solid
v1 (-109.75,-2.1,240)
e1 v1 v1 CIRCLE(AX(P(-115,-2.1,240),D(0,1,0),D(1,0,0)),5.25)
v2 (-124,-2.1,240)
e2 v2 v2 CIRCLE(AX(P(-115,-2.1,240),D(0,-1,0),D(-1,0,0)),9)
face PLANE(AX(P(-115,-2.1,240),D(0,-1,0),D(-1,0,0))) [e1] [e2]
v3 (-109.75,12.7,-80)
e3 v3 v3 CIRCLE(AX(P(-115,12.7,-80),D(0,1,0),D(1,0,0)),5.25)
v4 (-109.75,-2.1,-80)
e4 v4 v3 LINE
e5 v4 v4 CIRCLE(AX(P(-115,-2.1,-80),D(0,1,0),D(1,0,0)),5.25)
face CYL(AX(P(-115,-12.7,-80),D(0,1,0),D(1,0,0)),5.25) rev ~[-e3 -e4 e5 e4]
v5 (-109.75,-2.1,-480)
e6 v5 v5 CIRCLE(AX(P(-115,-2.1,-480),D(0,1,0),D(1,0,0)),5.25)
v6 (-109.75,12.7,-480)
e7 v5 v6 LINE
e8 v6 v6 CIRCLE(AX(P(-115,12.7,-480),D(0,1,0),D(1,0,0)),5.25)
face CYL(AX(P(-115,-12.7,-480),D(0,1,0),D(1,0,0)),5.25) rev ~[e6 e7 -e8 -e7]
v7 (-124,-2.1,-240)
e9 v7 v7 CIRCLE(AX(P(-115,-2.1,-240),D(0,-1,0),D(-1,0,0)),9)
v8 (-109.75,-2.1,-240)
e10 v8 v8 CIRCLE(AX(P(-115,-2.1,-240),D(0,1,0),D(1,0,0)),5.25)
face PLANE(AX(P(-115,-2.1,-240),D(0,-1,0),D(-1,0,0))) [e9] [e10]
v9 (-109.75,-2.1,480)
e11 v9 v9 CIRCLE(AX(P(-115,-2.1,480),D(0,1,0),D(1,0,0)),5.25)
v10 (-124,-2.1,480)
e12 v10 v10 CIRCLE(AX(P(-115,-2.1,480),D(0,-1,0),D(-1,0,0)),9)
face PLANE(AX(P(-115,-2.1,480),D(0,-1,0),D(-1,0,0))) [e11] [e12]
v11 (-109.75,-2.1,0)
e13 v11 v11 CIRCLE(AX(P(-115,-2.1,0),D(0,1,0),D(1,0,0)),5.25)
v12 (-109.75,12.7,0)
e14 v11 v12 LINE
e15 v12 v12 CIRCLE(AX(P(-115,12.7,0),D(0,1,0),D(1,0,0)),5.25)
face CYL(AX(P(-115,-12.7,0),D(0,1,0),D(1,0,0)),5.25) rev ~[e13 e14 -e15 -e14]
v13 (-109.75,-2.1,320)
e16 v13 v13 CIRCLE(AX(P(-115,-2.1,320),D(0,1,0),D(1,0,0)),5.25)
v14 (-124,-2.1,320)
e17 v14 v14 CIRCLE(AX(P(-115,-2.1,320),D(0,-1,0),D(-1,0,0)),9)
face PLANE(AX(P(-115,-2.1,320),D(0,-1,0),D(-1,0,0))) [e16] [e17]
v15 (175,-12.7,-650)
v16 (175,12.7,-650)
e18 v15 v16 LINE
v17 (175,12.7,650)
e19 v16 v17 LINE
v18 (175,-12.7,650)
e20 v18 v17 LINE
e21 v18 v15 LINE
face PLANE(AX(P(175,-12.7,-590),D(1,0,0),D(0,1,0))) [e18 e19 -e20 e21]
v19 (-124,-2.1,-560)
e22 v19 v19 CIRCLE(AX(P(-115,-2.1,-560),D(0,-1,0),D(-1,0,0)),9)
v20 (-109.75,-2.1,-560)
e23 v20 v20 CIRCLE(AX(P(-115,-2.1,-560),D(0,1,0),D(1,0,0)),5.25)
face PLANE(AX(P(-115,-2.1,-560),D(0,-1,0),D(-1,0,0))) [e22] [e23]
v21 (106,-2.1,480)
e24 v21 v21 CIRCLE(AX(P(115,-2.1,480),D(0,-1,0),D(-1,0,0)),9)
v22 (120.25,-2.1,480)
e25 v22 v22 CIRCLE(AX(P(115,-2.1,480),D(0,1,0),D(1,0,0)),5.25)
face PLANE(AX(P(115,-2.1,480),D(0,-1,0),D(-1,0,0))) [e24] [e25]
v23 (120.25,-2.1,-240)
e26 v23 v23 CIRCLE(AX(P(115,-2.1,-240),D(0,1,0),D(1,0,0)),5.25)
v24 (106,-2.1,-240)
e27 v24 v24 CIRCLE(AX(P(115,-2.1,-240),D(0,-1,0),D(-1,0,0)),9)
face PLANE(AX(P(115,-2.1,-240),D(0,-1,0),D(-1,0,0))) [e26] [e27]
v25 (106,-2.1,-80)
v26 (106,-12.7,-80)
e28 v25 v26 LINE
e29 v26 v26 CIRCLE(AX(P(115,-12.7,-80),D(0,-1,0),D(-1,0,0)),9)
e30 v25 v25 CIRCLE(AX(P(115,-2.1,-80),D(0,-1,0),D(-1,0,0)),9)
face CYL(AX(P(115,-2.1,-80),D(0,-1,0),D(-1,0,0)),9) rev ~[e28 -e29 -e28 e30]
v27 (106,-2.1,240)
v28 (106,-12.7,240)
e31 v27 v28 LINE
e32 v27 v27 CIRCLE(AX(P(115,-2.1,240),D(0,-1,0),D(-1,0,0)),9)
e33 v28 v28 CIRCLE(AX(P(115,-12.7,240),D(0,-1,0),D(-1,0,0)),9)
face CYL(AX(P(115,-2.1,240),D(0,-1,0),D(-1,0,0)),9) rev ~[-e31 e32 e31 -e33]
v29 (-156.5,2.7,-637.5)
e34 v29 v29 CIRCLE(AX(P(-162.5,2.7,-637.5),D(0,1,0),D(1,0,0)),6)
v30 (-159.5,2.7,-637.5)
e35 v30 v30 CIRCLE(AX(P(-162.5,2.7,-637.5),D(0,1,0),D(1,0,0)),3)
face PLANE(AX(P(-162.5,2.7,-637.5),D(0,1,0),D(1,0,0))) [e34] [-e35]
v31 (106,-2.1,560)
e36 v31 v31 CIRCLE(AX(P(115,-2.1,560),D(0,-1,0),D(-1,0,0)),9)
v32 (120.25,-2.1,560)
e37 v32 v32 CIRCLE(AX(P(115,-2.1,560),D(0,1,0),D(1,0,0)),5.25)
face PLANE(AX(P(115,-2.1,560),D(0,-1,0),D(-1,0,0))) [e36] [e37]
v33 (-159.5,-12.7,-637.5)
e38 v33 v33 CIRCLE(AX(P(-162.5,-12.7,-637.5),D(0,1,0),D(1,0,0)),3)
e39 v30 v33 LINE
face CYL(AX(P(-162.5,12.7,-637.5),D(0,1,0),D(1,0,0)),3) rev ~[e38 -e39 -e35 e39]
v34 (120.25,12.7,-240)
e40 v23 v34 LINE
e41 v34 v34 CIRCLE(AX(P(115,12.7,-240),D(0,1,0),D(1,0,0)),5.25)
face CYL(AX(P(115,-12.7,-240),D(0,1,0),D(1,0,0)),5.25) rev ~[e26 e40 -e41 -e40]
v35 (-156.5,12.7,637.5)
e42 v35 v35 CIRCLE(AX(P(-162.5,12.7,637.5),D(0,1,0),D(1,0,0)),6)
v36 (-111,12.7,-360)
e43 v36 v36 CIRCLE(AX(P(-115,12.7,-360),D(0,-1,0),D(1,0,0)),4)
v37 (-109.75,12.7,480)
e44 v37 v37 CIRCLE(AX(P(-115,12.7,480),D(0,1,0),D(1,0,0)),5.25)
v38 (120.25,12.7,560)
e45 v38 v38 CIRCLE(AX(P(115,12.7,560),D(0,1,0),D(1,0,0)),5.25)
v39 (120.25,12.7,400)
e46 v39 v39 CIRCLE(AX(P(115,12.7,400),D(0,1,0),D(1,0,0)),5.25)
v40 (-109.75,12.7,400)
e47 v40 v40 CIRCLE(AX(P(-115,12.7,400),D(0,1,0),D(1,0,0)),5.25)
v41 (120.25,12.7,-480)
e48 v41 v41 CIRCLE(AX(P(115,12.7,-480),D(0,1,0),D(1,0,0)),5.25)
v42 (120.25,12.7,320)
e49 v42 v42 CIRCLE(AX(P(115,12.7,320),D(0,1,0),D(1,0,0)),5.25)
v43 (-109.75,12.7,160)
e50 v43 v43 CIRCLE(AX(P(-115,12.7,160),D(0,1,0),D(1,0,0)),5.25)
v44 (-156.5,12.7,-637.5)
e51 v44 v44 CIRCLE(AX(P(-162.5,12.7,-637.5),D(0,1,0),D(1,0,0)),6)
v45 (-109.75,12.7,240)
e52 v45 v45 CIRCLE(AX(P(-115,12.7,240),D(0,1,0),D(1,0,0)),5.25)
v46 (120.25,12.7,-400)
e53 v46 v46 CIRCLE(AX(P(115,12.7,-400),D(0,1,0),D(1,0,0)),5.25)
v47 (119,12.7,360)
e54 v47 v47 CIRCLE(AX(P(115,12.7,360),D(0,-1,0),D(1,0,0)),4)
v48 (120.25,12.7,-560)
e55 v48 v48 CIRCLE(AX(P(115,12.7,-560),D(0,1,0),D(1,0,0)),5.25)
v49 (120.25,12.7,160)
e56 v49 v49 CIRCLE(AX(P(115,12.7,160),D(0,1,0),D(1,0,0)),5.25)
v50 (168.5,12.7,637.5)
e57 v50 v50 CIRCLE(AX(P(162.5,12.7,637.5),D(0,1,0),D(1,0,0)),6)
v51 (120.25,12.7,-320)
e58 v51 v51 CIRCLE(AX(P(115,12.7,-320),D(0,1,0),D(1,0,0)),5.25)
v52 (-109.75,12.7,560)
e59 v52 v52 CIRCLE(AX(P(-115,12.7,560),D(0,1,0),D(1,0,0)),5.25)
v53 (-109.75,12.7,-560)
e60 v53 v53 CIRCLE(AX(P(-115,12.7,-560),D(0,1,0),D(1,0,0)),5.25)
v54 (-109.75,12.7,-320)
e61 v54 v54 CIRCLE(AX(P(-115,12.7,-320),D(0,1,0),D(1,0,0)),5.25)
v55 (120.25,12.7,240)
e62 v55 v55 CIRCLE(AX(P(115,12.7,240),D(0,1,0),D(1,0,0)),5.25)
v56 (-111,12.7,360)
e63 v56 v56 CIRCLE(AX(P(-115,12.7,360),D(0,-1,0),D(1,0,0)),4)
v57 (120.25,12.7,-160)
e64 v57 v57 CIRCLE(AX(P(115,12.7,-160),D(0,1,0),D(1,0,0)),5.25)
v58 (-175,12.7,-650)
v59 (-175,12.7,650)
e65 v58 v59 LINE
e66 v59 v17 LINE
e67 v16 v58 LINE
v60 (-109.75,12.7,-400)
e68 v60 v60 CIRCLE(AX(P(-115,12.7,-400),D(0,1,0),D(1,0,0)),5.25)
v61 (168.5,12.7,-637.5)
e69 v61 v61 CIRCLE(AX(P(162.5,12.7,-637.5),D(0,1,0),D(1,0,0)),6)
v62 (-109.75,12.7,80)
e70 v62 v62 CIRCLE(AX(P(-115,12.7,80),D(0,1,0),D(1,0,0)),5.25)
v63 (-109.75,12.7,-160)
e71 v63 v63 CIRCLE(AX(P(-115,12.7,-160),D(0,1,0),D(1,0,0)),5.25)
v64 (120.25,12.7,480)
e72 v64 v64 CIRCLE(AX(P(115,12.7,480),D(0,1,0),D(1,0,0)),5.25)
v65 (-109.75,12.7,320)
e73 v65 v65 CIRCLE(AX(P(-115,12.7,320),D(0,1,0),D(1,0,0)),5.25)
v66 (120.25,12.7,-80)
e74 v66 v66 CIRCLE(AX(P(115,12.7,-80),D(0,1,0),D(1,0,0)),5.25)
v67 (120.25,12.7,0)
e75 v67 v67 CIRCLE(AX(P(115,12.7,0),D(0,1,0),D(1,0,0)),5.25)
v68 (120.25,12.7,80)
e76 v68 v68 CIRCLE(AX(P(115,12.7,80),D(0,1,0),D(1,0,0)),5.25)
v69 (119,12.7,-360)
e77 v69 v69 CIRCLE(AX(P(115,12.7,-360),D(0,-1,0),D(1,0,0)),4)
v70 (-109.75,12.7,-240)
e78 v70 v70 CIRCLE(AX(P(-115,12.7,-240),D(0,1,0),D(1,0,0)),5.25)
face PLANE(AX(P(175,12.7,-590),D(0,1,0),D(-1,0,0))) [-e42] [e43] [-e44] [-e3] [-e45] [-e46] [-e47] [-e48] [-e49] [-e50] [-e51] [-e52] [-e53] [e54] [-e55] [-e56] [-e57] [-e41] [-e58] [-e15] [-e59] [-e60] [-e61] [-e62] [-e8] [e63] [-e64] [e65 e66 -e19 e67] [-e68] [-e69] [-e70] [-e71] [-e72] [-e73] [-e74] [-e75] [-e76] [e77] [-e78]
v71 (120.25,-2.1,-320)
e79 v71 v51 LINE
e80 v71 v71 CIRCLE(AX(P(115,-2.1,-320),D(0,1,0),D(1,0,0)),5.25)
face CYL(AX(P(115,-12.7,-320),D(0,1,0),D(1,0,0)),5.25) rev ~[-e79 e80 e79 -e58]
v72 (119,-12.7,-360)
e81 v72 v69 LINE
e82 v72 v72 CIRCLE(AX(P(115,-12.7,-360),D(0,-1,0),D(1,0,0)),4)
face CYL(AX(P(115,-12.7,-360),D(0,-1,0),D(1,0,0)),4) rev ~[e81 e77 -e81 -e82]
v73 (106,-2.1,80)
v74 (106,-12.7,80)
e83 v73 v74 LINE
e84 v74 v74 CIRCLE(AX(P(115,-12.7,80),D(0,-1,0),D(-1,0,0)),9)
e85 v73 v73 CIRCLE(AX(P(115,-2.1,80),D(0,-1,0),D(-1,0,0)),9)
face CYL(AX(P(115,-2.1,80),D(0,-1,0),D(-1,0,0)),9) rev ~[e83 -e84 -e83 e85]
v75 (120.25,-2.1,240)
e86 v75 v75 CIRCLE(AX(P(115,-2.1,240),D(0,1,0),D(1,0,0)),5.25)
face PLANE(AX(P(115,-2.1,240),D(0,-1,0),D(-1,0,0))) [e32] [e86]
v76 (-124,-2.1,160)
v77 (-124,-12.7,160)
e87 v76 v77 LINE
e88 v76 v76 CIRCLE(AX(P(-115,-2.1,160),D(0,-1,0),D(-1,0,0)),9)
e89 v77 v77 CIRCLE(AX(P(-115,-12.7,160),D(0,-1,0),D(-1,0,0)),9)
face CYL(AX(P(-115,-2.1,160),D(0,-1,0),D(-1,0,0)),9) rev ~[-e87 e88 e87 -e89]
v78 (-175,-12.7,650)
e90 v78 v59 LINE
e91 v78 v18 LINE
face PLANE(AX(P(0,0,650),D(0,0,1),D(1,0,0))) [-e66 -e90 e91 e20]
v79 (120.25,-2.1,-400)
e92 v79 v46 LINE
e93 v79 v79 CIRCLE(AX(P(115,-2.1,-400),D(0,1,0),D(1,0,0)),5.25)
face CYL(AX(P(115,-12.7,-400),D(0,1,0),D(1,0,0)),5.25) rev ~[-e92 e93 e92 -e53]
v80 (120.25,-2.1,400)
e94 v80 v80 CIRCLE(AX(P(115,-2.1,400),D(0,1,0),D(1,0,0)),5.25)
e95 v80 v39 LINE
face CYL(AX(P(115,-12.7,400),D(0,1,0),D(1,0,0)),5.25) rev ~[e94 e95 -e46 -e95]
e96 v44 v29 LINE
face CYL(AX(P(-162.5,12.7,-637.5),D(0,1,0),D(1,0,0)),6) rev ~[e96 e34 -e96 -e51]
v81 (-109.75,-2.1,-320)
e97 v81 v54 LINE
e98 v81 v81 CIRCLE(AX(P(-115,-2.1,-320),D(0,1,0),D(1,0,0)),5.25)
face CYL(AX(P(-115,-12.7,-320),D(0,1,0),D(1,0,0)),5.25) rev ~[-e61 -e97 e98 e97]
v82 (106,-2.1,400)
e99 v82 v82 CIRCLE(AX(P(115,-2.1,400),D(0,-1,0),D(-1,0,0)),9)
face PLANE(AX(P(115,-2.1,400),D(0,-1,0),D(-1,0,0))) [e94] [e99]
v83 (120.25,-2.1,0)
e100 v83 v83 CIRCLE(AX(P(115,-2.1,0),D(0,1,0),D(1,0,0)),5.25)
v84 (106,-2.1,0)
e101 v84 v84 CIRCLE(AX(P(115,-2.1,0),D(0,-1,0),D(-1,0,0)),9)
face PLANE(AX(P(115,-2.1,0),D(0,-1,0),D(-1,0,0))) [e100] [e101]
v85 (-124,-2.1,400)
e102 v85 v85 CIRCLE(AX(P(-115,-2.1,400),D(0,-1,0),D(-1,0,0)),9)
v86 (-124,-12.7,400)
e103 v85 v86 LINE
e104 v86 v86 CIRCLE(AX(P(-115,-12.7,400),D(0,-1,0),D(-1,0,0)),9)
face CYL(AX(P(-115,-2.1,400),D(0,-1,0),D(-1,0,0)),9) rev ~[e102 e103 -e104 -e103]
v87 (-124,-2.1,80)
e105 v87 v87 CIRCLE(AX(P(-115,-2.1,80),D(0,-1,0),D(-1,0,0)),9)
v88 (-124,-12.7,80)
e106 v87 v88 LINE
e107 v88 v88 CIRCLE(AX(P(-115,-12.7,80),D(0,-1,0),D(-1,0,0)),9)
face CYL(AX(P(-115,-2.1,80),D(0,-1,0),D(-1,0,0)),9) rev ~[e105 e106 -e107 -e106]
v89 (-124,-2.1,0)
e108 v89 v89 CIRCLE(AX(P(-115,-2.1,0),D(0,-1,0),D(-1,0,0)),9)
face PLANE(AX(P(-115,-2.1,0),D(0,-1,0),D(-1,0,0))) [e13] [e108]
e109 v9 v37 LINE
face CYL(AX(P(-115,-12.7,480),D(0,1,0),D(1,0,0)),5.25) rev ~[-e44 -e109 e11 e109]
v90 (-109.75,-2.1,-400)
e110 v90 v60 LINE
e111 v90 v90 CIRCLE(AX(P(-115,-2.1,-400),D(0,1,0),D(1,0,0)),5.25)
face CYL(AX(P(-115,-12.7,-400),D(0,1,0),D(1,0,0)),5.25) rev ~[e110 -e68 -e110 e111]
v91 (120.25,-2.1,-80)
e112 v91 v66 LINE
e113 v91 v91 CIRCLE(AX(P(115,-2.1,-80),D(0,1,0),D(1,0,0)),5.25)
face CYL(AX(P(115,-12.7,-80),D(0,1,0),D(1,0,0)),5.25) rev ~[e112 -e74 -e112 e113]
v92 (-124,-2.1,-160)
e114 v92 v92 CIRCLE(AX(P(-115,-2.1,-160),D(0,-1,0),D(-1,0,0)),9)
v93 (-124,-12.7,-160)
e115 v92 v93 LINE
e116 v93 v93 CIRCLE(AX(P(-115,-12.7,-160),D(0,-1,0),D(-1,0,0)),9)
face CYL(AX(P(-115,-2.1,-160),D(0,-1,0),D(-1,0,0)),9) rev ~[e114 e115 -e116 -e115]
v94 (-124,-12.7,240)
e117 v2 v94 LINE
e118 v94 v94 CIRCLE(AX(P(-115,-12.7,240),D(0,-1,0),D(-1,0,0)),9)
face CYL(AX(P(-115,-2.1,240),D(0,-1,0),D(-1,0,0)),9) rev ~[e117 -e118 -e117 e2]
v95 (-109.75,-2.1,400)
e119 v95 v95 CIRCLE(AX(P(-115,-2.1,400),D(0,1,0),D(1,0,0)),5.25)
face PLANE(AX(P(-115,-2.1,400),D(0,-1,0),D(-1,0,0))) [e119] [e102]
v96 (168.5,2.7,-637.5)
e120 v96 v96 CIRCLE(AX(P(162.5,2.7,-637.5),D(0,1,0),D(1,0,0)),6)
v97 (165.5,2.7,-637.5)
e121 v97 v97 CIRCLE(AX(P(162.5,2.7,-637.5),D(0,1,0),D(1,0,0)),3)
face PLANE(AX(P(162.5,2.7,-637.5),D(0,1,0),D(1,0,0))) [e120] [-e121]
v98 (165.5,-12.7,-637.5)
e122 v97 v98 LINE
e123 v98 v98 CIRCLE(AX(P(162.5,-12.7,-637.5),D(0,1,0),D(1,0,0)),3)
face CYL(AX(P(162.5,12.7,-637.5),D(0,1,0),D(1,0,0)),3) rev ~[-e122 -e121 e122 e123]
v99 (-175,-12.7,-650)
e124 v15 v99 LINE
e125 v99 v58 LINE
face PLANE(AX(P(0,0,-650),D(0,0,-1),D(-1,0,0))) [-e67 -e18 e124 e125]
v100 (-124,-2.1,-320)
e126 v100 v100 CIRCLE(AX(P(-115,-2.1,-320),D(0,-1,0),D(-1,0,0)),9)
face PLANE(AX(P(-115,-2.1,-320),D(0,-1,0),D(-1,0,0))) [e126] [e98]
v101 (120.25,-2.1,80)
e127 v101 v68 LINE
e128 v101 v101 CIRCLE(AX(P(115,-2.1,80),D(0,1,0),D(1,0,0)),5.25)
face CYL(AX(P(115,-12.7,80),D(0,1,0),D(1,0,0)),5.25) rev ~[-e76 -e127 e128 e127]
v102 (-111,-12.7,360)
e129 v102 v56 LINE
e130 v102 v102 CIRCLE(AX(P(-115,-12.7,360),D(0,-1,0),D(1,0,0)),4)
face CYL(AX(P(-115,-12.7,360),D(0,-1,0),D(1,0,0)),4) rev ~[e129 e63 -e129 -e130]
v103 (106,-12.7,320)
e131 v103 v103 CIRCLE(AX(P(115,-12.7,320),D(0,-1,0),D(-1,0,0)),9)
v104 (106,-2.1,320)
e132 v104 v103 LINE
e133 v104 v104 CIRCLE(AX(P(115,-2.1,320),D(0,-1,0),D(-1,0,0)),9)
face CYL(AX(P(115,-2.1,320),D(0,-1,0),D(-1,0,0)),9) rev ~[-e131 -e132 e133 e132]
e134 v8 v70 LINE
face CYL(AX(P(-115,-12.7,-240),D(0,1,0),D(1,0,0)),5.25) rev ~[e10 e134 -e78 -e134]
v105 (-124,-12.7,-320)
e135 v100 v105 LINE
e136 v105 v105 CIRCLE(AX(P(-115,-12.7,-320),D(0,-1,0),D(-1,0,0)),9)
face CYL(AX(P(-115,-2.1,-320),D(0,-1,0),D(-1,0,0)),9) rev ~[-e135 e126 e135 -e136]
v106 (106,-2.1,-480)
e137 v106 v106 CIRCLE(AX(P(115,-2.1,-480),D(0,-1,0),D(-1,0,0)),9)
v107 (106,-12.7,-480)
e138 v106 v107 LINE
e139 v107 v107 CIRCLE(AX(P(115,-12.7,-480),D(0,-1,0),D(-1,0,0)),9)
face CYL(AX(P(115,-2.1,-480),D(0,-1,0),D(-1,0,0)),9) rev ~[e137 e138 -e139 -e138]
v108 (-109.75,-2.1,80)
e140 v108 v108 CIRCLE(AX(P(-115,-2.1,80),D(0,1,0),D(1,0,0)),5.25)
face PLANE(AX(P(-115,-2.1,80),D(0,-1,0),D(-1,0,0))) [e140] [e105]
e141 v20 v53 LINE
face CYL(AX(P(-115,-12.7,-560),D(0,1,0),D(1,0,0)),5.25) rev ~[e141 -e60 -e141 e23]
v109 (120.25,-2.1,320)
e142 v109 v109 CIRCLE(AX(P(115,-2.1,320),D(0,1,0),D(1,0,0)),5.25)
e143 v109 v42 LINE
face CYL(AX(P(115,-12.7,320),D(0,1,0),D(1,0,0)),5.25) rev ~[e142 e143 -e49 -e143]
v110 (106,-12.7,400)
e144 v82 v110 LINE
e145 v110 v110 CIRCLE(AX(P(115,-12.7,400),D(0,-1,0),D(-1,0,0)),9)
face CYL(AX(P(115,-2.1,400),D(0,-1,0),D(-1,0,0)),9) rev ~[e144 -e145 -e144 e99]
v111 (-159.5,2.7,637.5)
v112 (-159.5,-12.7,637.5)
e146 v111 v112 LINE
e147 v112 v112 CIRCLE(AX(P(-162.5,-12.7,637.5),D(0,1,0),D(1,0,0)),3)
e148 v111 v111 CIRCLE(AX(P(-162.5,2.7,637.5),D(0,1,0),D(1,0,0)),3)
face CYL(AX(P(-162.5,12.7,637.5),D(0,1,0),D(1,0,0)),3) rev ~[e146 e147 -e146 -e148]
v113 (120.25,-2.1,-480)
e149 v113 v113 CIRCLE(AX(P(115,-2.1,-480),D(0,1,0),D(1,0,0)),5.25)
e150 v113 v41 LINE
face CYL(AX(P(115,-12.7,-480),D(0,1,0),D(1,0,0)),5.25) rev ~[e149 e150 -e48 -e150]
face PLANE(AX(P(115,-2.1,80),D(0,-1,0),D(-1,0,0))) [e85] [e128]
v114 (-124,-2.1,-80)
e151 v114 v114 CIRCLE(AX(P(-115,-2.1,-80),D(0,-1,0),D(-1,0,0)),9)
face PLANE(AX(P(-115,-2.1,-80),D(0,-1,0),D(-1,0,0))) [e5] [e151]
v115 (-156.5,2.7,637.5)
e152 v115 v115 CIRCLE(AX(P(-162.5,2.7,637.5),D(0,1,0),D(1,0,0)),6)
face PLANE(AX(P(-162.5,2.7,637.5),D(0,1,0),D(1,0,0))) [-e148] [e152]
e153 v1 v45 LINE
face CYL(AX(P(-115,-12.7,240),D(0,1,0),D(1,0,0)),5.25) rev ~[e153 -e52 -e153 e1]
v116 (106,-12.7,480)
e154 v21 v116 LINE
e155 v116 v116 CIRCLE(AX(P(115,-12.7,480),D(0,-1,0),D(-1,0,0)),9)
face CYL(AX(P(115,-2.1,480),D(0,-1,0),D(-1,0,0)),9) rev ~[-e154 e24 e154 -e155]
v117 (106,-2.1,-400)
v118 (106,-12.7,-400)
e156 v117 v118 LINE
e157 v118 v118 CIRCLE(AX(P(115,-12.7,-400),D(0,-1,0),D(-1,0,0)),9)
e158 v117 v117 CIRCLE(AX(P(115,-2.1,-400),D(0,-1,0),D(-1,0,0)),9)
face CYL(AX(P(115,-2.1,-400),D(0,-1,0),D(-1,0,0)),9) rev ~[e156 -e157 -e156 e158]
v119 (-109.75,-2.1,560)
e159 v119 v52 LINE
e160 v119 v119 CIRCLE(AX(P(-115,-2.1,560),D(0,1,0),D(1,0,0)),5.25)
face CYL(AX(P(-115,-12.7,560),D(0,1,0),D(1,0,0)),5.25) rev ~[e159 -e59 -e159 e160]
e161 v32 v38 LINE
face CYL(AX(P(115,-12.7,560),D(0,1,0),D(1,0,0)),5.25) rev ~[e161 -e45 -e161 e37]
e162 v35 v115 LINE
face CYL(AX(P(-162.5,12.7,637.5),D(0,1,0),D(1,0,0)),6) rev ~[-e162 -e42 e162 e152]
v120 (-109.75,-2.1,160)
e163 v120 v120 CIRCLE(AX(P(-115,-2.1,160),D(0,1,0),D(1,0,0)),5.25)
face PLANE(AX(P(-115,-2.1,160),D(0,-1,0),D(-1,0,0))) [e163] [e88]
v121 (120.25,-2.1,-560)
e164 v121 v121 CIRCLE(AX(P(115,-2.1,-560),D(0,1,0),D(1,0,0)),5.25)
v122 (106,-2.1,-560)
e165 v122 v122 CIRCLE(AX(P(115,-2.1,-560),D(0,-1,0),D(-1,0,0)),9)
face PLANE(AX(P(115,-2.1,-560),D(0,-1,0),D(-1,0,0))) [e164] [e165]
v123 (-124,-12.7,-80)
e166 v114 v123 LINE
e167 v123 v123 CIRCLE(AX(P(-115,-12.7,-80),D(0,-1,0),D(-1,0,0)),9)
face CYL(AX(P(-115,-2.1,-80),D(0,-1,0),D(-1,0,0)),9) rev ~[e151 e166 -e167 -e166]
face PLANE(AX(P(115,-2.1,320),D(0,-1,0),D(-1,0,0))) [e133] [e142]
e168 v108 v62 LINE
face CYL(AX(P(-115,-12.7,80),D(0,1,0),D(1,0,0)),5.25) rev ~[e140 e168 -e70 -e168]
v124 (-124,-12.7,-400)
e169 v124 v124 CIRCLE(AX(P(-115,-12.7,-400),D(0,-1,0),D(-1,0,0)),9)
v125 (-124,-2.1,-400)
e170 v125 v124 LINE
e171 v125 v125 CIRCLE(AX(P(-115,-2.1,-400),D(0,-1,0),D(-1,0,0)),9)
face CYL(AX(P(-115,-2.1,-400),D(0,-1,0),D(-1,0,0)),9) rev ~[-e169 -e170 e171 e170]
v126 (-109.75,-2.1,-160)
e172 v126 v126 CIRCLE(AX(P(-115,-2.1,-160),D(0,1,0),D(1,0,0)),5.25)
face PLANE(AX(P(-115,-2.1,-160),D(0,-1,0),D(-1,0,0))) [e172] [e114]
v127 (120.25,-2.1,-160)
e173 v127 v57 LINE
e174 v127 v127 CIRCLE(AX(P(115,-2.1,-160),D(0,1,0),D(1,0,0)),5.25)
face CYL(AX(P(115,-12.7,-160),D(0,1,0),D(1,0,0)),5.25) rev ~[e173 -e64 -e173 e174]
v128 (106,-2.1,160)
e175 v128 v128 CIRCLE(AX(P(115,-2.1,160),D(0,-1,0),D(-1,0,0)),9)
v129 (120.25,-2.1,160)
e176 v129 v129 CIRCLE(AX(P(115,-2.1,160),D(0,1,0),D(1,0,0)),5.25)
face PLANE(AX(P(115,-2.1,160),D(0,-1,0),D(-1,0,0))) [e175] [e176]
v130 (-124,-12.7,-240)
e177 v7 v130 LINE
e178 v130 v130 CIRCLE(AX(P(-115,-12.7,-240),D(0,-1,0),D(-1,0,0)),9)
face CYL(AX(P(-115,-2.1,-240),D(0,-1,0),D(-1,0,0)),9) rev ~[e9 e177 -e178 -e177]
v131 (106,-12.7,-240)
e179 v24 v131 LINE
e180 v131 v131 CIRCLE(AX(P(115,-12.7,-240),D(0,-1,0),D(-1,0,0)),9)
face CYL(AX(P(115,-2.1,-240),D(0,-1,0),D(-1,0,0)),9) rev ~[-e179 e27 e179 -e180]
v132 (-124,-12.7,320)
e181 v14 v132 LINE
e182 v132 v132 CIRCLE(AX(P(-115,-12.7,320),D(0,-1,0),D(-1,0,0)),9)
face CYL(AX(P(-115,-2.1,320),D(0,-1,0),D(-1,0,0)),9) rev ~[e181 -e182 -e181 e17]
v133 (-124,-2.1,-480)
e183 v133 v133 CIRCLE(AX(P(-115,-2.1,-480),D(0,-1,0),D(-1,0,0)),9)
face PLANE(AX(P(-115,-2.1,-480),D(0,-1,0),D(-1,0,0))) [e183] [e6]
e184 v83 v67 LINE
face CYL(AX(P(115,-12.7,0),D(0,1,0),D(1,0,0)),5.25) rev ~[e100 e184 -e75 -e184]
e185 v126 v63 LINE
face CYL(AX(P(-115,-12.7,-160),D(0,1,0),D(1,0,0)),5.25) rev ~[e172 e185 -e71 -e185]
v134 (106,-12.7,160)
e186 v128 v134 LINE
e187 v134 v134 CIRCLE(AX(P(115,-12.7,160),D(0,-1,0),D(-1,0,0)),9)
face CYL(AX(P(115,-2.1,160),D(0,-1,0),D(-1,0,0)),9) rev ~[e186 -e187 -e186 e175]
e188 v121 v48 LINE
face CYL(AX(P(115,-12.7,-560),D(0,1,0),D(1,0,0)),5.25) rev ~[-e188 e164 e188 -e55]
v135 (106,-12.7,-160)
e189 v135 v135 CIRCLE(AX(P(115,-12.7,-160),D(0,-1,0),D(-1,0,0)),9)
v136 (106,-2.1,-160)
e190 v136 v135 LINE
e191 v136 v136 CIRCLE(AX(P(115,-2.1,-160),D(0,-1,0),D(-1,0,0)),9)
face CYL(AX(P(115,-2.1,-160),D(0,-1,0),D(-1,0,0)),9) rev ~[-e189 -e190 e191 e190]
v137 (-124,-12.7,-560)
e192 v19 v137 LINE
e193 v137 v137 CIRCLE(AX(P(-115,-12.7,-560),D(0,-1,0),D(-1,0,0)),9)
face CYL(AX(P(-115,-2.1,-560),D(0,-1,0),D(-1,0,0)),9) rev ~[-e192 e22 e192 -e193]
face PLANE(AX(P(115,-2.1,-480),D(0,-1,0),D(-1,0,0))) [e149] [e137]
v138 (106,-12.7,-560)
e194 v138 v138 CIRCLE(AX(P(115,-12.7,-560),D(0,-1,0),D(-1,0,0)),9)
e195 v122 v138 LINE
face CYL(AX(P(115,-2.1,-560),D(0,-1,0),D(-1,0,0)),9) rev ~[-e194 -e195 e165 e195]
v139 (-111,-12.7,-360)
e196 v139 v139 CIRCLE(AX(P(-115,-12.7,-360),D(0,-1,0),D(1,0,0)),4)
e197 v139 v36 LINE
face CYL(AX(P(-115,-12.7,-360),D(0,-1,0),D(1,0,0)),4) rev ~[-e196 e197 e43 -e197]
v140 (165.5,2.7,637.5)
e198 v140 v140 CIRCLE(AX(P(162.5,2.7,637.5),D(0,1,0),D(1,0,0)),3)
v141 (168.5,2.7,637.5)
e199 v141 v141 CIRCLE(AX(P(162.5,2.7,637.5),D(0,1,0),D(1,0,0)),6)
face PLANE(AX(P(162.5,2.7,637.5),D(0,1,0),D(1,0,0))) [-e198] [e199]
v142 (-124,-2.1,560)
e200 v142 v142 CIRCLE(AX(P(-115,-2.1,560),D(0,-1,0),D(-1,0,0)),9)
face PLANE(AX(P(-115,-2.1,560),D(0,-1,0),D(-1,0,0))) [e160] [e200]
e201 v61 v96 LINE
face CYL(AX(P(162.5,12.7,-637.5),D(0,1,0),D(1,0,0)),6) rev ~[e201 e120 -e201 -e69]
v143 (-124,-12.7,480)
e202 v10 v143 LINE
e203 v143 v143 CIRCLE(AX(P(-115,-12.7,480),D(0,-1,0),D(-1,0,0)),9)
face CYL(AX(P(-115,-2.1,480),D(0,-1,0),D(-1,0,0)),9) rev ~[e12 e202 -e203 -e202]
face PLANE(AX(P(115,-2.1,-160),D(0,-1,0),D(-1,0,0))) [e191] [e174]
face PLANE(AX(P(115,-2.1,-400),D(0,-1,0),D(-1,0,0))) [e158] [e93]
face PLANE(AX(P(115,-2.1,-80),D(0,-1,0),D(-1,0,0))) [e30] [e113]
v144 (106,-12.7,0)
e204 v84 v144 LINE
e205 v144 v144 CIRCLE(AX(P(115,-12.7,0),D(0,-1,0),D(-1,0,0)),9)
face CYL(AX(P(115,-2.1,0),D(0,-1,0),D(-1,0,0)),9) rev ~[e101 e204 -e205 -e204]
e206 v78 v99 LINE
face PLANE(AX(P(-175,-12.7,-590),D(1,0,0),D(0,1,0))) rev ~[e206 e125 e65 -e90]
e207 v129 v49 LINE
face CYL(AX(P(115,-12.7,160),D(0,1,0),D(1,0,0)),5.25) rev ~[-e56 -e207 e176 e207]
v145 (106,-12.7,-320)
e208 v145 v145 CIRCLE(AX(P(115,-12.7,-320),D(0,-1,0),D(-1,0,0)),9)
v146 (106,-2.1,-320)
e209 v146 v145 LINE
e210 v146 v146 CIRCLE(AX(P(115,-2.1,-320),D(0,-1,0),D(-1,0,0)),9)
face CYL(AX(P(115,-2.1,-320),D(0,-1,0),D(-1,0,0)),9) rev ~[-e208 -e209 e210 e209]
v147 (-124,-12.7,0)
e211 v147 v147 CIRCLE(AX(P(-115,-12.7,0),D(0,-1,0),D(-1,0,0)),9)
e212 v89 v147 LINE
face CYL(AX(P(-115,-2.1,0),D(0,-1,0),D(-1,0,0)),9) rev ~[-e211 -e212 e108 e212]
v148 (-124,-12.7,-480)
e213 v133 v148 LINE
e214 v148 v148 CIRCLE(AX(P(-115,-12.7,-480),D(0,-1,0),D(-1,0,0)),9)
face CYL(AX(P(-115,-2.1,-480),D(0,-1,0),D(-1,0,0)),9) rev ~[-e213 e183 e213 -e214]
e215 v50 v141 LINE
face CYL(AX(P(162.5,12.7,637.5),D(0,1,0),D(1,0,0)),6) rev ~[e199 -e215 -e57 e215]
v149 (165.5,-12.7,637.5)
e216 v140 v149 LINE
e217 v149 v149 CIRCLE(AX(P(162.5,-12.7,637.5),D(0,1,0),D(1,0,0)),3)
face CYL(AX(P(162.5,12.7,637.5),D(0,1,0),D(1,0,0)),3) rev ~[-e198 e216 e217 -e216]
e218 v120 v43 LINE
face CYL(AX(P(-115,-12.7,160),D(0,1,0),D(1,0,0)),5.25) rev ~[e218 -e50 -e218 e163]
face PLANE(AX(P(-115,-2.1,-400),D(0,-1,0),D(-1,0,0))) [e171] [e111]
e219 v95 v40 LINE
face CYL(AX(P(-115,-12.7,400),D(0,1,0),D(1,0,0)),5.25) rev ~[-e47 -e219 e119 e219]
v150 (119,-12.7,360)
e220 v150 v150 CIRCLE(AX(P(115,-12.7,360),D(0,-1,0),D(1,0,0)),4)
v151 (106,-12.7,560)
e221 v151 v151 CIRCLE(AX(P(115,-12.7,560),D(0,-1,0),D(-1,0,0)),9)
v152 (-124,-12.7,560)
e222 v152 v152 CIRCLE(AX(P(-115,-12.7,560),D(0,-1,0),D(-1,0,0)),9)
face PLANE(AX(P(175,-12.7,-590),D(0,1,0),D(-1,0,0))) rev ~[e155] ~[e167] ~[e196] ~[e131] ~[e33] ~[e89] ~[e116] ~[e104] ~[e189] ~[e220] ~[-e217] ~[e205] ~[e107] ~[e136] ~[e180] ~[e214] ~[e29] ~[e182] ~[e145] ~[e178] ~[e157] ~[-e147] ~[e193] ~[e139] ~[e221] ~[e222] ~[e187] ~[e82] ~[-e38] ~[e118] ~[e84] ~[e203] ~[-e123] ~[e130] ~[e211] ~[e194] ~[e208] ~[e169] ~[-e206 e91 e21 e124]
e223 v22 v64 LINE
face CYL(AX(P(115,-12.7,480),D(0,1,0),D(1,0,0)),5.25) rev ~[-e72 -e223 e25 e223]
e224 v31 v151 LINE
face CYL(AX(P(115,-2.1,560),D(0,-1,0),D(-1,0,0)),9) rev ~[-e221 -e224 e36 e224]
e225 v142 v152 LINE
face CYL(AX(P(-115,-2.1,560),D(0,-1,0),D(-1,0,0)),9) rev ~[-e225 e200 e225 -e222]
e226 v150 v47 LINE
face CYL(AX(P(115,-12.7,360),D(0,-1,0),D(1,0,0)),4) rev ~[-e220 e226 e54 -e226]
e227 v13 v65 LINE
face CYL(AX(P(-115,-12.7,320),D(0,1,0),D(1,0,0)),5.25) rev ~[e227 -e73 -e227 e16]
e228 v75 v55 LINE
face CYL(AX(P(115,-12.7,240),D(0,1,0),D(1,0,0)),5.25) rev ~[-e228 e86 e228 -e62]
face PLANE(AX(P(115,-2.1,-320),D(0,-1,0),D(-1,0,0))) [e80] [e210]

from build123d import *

# Parameters (mm, degrees)
ESBO_O1_W                                            = 264
ESBO_O1_H                                            = 25.4
RESSALTO_EXTRUS_O1_DEPTH                             = 590
ESBO_O4_W                                            = 1180
ESBO_O4_H                                            = 25.4
RESSALTO_EXTRUS_O3_DEPTH                             = 43
ESBO_O3_W                                            = 1180
ESBO_O3_H                                            = 25.4
RESSALTO_EXTRUS_O4_DEPTH                             = 43
REBAIXO_PARA_PARAFUSO_ALLEN_SEXTAVADO_DE_D           = 10.5
REBAIXO_PARA_PARAFUSO_ALLEN_SEXTAVADO_DE_CBORE_D     = 18
REBAIXO_PARA_PARAFUSO_ALLEN_SEXTAVADO_DE_CBORE_DEPTH = 10.6
ESBO_O7_R                                            = 4
CORTE_EXTRUS_O1_DEPTH                                = 26.4
PADR_O_LINEAR1_COUNT                                 = 2
PADR_O_LINEAR1_PITCH                                 = 720
ESBO_O9_W                                            = 350
ESBO_O9_H                                            = 25.4
RESSALTO_EXTRUS_O5_DEPTH                             = 60
ESBO_O10_W                                           = 350
ESBO_O10_H                                           = 25.4
RESSALTO_EXTRUS_O6_DEPTH                             = 60
ESBO_O15_R                                           = 3
CORTE_EXTRUS_O2_DEPTH                                = 26.4
ESBO_O20_R                                           = 6
CORTE_EXTRUS_O4_DEPTH                                = 10


with BuildPart() as part:
    # Esboço1 → Ressalto-extrusão1 (new body, symmetric)
    with BuildSketch(Plane.XY):
        Rectangle(ESBO_O1_W, ESBO_O1_H)
    extrude(amount=RESSALTO_EXTRUS_O1_DEPTH, both=True)

    # Esboço4 → Ressalto-extrusão3 (add)
    with BuildSketch(Plane.ZY.offset(132)):
        Rectangle(ESBO_O4_W, ESBO_O4_H)
    extrude(amount=RESSALTO_EXTRUS_O3_DEPTH)

    # Esboço3 → Ressalto-extrusão4 (add)
    with BuildSketch(Plane(origin=(132, 0, 0), x_dir=(0, 0, -1), z_dir=(1, 0, 0))):
        Rectangle(ESBO_O3_W, ESBO_O3_H)
    extrude(amount=RESSALTO_EXTRUS_O4_DEPTH)

    # Rebaixo para parafuso Allen sextavado de M101 (through all)
    with Locations(Plane(origin=(0, -12.7, 0), x_dir=(-1, 0, 0), z_dir=(0, -1, 0))):
        with Locations((115, -320), (115, -240), (-115, 400), (-115, 240), (-115, 80), (-115, -80), (-115, -240), (-115, -400), (115, -480), (-115, -320), (-115, -160), (-115, 0), (-115, 160), (-115, 320), (-115, 480), (-115, 560), (115, 560), (-115, -480), (115, -400), (115, -80), (115, 0), (115, 80), (115, 160), (115, 320), (115, 240), (115, 400), (115, 480), (115, -160), (115, -560), (-115, -560)):
            CounterBoreHole(REBAIXO_PARA_PARAFUSO_ALLEN_SEXTAVADO_DE_D / 2, REBAIXO_PARA_PARAFUSO_ALLEN_SEXTAVADO_DE_CBORE_D / 2, REBAIXO_PARA_PARAFUSO_ALLEN_SEXTAVADO_DE_CBORE_DEPTH)

    # Esboço7 → Corte-extrusão1 (cut, through all)
    with BuildSketch(Plane.XZ.offset(12.7)):
        with Locations((-115, 360)):
            Circle(ESBO_O7_R)
        with Locations((115, 360)):
            Circle(ESBO_O7_R)
    corte_extrus_o1 = extrude(amount=-CORTE_EXTRUS_O1_DEPTH, mode=Mode.SUBTRACT)

    # Padrão linear1: Corte-extrusão1 ×2
    with Locations(*[(0, 0, -i * PADR_O_LINEAR1_PITCH) for i in range(1, PADR_O_LINEAR1_COUNT)]):
        add(corte_extrus_o1, mode=Mode.SUBTRACT)

    # Esboço9 → Ressalto-extrusão5 (add)
    with BuildSketch(Plane.XY.offset(590)):
        Rectangle(ESBO_O9_W, ESBO_O9_H)
    extrude(amount=RESSALTO_EXTRUS_O5_DEPTH)

    # Esboço10 → Ressalto-extrusão6 (add)
    with BuildSketch(Plane(origin=(0, 0, -590), x_dir=(-1, 0, 0), z_dir=(0, 0, -1))):
        Rectangle(ESBO_O10_W, ESBO_O10_H)
    extrude(amount=RESSALTO_EXTRUS_O6_DEPTH)

    # Esboço15 → Corte-extrusão2 (cut, through all)
    with BuildSketch(Plane(origin=(0, 12.7, 0), x_dir=(1, 0, 0), z_dir=(0, 1, 0))):
        with Locations((-162.5, -637.5)):
            Circle(ESBO_O15_R)
        with Locations((162.5, -637.5)):
            Circle(ESBO_O15_R)
        with Locations((-162.5, 637.5)):
            Circle(ESBO_O15_R)
        with Locations((162.5, 637.5)):
            Circle(ESBO_O15_R)
    extrude(amount=-CORTE_EXTRUS_O2_DEPTH, mode=Mode.SUBTRACT)

    # Esboço20 → Corte-extrusão4 (cut)
    with BuildSketch(Plane(origin=(0, 12.7, 0), x_dir=(1, 0, 0), z_dir=(0, 1, 0))):
        with Locations((-162.5, -637.5)):
            Circle(ESBO_O20_R)
        with Locations((162.5, -637.5)):
            Circle(ESBO_O20_R)
        with Locations((-162.5, 637.5)):
            Circle(ESBO_O20_R)
        with Locations((162.5, 637.5)):
            Circle(ESBO_O20_R)
    extrude(amount=-CORTE_EXTRUS_O4_DEPTH, mode=Mode.SUBTRACT)


solid = part.part
